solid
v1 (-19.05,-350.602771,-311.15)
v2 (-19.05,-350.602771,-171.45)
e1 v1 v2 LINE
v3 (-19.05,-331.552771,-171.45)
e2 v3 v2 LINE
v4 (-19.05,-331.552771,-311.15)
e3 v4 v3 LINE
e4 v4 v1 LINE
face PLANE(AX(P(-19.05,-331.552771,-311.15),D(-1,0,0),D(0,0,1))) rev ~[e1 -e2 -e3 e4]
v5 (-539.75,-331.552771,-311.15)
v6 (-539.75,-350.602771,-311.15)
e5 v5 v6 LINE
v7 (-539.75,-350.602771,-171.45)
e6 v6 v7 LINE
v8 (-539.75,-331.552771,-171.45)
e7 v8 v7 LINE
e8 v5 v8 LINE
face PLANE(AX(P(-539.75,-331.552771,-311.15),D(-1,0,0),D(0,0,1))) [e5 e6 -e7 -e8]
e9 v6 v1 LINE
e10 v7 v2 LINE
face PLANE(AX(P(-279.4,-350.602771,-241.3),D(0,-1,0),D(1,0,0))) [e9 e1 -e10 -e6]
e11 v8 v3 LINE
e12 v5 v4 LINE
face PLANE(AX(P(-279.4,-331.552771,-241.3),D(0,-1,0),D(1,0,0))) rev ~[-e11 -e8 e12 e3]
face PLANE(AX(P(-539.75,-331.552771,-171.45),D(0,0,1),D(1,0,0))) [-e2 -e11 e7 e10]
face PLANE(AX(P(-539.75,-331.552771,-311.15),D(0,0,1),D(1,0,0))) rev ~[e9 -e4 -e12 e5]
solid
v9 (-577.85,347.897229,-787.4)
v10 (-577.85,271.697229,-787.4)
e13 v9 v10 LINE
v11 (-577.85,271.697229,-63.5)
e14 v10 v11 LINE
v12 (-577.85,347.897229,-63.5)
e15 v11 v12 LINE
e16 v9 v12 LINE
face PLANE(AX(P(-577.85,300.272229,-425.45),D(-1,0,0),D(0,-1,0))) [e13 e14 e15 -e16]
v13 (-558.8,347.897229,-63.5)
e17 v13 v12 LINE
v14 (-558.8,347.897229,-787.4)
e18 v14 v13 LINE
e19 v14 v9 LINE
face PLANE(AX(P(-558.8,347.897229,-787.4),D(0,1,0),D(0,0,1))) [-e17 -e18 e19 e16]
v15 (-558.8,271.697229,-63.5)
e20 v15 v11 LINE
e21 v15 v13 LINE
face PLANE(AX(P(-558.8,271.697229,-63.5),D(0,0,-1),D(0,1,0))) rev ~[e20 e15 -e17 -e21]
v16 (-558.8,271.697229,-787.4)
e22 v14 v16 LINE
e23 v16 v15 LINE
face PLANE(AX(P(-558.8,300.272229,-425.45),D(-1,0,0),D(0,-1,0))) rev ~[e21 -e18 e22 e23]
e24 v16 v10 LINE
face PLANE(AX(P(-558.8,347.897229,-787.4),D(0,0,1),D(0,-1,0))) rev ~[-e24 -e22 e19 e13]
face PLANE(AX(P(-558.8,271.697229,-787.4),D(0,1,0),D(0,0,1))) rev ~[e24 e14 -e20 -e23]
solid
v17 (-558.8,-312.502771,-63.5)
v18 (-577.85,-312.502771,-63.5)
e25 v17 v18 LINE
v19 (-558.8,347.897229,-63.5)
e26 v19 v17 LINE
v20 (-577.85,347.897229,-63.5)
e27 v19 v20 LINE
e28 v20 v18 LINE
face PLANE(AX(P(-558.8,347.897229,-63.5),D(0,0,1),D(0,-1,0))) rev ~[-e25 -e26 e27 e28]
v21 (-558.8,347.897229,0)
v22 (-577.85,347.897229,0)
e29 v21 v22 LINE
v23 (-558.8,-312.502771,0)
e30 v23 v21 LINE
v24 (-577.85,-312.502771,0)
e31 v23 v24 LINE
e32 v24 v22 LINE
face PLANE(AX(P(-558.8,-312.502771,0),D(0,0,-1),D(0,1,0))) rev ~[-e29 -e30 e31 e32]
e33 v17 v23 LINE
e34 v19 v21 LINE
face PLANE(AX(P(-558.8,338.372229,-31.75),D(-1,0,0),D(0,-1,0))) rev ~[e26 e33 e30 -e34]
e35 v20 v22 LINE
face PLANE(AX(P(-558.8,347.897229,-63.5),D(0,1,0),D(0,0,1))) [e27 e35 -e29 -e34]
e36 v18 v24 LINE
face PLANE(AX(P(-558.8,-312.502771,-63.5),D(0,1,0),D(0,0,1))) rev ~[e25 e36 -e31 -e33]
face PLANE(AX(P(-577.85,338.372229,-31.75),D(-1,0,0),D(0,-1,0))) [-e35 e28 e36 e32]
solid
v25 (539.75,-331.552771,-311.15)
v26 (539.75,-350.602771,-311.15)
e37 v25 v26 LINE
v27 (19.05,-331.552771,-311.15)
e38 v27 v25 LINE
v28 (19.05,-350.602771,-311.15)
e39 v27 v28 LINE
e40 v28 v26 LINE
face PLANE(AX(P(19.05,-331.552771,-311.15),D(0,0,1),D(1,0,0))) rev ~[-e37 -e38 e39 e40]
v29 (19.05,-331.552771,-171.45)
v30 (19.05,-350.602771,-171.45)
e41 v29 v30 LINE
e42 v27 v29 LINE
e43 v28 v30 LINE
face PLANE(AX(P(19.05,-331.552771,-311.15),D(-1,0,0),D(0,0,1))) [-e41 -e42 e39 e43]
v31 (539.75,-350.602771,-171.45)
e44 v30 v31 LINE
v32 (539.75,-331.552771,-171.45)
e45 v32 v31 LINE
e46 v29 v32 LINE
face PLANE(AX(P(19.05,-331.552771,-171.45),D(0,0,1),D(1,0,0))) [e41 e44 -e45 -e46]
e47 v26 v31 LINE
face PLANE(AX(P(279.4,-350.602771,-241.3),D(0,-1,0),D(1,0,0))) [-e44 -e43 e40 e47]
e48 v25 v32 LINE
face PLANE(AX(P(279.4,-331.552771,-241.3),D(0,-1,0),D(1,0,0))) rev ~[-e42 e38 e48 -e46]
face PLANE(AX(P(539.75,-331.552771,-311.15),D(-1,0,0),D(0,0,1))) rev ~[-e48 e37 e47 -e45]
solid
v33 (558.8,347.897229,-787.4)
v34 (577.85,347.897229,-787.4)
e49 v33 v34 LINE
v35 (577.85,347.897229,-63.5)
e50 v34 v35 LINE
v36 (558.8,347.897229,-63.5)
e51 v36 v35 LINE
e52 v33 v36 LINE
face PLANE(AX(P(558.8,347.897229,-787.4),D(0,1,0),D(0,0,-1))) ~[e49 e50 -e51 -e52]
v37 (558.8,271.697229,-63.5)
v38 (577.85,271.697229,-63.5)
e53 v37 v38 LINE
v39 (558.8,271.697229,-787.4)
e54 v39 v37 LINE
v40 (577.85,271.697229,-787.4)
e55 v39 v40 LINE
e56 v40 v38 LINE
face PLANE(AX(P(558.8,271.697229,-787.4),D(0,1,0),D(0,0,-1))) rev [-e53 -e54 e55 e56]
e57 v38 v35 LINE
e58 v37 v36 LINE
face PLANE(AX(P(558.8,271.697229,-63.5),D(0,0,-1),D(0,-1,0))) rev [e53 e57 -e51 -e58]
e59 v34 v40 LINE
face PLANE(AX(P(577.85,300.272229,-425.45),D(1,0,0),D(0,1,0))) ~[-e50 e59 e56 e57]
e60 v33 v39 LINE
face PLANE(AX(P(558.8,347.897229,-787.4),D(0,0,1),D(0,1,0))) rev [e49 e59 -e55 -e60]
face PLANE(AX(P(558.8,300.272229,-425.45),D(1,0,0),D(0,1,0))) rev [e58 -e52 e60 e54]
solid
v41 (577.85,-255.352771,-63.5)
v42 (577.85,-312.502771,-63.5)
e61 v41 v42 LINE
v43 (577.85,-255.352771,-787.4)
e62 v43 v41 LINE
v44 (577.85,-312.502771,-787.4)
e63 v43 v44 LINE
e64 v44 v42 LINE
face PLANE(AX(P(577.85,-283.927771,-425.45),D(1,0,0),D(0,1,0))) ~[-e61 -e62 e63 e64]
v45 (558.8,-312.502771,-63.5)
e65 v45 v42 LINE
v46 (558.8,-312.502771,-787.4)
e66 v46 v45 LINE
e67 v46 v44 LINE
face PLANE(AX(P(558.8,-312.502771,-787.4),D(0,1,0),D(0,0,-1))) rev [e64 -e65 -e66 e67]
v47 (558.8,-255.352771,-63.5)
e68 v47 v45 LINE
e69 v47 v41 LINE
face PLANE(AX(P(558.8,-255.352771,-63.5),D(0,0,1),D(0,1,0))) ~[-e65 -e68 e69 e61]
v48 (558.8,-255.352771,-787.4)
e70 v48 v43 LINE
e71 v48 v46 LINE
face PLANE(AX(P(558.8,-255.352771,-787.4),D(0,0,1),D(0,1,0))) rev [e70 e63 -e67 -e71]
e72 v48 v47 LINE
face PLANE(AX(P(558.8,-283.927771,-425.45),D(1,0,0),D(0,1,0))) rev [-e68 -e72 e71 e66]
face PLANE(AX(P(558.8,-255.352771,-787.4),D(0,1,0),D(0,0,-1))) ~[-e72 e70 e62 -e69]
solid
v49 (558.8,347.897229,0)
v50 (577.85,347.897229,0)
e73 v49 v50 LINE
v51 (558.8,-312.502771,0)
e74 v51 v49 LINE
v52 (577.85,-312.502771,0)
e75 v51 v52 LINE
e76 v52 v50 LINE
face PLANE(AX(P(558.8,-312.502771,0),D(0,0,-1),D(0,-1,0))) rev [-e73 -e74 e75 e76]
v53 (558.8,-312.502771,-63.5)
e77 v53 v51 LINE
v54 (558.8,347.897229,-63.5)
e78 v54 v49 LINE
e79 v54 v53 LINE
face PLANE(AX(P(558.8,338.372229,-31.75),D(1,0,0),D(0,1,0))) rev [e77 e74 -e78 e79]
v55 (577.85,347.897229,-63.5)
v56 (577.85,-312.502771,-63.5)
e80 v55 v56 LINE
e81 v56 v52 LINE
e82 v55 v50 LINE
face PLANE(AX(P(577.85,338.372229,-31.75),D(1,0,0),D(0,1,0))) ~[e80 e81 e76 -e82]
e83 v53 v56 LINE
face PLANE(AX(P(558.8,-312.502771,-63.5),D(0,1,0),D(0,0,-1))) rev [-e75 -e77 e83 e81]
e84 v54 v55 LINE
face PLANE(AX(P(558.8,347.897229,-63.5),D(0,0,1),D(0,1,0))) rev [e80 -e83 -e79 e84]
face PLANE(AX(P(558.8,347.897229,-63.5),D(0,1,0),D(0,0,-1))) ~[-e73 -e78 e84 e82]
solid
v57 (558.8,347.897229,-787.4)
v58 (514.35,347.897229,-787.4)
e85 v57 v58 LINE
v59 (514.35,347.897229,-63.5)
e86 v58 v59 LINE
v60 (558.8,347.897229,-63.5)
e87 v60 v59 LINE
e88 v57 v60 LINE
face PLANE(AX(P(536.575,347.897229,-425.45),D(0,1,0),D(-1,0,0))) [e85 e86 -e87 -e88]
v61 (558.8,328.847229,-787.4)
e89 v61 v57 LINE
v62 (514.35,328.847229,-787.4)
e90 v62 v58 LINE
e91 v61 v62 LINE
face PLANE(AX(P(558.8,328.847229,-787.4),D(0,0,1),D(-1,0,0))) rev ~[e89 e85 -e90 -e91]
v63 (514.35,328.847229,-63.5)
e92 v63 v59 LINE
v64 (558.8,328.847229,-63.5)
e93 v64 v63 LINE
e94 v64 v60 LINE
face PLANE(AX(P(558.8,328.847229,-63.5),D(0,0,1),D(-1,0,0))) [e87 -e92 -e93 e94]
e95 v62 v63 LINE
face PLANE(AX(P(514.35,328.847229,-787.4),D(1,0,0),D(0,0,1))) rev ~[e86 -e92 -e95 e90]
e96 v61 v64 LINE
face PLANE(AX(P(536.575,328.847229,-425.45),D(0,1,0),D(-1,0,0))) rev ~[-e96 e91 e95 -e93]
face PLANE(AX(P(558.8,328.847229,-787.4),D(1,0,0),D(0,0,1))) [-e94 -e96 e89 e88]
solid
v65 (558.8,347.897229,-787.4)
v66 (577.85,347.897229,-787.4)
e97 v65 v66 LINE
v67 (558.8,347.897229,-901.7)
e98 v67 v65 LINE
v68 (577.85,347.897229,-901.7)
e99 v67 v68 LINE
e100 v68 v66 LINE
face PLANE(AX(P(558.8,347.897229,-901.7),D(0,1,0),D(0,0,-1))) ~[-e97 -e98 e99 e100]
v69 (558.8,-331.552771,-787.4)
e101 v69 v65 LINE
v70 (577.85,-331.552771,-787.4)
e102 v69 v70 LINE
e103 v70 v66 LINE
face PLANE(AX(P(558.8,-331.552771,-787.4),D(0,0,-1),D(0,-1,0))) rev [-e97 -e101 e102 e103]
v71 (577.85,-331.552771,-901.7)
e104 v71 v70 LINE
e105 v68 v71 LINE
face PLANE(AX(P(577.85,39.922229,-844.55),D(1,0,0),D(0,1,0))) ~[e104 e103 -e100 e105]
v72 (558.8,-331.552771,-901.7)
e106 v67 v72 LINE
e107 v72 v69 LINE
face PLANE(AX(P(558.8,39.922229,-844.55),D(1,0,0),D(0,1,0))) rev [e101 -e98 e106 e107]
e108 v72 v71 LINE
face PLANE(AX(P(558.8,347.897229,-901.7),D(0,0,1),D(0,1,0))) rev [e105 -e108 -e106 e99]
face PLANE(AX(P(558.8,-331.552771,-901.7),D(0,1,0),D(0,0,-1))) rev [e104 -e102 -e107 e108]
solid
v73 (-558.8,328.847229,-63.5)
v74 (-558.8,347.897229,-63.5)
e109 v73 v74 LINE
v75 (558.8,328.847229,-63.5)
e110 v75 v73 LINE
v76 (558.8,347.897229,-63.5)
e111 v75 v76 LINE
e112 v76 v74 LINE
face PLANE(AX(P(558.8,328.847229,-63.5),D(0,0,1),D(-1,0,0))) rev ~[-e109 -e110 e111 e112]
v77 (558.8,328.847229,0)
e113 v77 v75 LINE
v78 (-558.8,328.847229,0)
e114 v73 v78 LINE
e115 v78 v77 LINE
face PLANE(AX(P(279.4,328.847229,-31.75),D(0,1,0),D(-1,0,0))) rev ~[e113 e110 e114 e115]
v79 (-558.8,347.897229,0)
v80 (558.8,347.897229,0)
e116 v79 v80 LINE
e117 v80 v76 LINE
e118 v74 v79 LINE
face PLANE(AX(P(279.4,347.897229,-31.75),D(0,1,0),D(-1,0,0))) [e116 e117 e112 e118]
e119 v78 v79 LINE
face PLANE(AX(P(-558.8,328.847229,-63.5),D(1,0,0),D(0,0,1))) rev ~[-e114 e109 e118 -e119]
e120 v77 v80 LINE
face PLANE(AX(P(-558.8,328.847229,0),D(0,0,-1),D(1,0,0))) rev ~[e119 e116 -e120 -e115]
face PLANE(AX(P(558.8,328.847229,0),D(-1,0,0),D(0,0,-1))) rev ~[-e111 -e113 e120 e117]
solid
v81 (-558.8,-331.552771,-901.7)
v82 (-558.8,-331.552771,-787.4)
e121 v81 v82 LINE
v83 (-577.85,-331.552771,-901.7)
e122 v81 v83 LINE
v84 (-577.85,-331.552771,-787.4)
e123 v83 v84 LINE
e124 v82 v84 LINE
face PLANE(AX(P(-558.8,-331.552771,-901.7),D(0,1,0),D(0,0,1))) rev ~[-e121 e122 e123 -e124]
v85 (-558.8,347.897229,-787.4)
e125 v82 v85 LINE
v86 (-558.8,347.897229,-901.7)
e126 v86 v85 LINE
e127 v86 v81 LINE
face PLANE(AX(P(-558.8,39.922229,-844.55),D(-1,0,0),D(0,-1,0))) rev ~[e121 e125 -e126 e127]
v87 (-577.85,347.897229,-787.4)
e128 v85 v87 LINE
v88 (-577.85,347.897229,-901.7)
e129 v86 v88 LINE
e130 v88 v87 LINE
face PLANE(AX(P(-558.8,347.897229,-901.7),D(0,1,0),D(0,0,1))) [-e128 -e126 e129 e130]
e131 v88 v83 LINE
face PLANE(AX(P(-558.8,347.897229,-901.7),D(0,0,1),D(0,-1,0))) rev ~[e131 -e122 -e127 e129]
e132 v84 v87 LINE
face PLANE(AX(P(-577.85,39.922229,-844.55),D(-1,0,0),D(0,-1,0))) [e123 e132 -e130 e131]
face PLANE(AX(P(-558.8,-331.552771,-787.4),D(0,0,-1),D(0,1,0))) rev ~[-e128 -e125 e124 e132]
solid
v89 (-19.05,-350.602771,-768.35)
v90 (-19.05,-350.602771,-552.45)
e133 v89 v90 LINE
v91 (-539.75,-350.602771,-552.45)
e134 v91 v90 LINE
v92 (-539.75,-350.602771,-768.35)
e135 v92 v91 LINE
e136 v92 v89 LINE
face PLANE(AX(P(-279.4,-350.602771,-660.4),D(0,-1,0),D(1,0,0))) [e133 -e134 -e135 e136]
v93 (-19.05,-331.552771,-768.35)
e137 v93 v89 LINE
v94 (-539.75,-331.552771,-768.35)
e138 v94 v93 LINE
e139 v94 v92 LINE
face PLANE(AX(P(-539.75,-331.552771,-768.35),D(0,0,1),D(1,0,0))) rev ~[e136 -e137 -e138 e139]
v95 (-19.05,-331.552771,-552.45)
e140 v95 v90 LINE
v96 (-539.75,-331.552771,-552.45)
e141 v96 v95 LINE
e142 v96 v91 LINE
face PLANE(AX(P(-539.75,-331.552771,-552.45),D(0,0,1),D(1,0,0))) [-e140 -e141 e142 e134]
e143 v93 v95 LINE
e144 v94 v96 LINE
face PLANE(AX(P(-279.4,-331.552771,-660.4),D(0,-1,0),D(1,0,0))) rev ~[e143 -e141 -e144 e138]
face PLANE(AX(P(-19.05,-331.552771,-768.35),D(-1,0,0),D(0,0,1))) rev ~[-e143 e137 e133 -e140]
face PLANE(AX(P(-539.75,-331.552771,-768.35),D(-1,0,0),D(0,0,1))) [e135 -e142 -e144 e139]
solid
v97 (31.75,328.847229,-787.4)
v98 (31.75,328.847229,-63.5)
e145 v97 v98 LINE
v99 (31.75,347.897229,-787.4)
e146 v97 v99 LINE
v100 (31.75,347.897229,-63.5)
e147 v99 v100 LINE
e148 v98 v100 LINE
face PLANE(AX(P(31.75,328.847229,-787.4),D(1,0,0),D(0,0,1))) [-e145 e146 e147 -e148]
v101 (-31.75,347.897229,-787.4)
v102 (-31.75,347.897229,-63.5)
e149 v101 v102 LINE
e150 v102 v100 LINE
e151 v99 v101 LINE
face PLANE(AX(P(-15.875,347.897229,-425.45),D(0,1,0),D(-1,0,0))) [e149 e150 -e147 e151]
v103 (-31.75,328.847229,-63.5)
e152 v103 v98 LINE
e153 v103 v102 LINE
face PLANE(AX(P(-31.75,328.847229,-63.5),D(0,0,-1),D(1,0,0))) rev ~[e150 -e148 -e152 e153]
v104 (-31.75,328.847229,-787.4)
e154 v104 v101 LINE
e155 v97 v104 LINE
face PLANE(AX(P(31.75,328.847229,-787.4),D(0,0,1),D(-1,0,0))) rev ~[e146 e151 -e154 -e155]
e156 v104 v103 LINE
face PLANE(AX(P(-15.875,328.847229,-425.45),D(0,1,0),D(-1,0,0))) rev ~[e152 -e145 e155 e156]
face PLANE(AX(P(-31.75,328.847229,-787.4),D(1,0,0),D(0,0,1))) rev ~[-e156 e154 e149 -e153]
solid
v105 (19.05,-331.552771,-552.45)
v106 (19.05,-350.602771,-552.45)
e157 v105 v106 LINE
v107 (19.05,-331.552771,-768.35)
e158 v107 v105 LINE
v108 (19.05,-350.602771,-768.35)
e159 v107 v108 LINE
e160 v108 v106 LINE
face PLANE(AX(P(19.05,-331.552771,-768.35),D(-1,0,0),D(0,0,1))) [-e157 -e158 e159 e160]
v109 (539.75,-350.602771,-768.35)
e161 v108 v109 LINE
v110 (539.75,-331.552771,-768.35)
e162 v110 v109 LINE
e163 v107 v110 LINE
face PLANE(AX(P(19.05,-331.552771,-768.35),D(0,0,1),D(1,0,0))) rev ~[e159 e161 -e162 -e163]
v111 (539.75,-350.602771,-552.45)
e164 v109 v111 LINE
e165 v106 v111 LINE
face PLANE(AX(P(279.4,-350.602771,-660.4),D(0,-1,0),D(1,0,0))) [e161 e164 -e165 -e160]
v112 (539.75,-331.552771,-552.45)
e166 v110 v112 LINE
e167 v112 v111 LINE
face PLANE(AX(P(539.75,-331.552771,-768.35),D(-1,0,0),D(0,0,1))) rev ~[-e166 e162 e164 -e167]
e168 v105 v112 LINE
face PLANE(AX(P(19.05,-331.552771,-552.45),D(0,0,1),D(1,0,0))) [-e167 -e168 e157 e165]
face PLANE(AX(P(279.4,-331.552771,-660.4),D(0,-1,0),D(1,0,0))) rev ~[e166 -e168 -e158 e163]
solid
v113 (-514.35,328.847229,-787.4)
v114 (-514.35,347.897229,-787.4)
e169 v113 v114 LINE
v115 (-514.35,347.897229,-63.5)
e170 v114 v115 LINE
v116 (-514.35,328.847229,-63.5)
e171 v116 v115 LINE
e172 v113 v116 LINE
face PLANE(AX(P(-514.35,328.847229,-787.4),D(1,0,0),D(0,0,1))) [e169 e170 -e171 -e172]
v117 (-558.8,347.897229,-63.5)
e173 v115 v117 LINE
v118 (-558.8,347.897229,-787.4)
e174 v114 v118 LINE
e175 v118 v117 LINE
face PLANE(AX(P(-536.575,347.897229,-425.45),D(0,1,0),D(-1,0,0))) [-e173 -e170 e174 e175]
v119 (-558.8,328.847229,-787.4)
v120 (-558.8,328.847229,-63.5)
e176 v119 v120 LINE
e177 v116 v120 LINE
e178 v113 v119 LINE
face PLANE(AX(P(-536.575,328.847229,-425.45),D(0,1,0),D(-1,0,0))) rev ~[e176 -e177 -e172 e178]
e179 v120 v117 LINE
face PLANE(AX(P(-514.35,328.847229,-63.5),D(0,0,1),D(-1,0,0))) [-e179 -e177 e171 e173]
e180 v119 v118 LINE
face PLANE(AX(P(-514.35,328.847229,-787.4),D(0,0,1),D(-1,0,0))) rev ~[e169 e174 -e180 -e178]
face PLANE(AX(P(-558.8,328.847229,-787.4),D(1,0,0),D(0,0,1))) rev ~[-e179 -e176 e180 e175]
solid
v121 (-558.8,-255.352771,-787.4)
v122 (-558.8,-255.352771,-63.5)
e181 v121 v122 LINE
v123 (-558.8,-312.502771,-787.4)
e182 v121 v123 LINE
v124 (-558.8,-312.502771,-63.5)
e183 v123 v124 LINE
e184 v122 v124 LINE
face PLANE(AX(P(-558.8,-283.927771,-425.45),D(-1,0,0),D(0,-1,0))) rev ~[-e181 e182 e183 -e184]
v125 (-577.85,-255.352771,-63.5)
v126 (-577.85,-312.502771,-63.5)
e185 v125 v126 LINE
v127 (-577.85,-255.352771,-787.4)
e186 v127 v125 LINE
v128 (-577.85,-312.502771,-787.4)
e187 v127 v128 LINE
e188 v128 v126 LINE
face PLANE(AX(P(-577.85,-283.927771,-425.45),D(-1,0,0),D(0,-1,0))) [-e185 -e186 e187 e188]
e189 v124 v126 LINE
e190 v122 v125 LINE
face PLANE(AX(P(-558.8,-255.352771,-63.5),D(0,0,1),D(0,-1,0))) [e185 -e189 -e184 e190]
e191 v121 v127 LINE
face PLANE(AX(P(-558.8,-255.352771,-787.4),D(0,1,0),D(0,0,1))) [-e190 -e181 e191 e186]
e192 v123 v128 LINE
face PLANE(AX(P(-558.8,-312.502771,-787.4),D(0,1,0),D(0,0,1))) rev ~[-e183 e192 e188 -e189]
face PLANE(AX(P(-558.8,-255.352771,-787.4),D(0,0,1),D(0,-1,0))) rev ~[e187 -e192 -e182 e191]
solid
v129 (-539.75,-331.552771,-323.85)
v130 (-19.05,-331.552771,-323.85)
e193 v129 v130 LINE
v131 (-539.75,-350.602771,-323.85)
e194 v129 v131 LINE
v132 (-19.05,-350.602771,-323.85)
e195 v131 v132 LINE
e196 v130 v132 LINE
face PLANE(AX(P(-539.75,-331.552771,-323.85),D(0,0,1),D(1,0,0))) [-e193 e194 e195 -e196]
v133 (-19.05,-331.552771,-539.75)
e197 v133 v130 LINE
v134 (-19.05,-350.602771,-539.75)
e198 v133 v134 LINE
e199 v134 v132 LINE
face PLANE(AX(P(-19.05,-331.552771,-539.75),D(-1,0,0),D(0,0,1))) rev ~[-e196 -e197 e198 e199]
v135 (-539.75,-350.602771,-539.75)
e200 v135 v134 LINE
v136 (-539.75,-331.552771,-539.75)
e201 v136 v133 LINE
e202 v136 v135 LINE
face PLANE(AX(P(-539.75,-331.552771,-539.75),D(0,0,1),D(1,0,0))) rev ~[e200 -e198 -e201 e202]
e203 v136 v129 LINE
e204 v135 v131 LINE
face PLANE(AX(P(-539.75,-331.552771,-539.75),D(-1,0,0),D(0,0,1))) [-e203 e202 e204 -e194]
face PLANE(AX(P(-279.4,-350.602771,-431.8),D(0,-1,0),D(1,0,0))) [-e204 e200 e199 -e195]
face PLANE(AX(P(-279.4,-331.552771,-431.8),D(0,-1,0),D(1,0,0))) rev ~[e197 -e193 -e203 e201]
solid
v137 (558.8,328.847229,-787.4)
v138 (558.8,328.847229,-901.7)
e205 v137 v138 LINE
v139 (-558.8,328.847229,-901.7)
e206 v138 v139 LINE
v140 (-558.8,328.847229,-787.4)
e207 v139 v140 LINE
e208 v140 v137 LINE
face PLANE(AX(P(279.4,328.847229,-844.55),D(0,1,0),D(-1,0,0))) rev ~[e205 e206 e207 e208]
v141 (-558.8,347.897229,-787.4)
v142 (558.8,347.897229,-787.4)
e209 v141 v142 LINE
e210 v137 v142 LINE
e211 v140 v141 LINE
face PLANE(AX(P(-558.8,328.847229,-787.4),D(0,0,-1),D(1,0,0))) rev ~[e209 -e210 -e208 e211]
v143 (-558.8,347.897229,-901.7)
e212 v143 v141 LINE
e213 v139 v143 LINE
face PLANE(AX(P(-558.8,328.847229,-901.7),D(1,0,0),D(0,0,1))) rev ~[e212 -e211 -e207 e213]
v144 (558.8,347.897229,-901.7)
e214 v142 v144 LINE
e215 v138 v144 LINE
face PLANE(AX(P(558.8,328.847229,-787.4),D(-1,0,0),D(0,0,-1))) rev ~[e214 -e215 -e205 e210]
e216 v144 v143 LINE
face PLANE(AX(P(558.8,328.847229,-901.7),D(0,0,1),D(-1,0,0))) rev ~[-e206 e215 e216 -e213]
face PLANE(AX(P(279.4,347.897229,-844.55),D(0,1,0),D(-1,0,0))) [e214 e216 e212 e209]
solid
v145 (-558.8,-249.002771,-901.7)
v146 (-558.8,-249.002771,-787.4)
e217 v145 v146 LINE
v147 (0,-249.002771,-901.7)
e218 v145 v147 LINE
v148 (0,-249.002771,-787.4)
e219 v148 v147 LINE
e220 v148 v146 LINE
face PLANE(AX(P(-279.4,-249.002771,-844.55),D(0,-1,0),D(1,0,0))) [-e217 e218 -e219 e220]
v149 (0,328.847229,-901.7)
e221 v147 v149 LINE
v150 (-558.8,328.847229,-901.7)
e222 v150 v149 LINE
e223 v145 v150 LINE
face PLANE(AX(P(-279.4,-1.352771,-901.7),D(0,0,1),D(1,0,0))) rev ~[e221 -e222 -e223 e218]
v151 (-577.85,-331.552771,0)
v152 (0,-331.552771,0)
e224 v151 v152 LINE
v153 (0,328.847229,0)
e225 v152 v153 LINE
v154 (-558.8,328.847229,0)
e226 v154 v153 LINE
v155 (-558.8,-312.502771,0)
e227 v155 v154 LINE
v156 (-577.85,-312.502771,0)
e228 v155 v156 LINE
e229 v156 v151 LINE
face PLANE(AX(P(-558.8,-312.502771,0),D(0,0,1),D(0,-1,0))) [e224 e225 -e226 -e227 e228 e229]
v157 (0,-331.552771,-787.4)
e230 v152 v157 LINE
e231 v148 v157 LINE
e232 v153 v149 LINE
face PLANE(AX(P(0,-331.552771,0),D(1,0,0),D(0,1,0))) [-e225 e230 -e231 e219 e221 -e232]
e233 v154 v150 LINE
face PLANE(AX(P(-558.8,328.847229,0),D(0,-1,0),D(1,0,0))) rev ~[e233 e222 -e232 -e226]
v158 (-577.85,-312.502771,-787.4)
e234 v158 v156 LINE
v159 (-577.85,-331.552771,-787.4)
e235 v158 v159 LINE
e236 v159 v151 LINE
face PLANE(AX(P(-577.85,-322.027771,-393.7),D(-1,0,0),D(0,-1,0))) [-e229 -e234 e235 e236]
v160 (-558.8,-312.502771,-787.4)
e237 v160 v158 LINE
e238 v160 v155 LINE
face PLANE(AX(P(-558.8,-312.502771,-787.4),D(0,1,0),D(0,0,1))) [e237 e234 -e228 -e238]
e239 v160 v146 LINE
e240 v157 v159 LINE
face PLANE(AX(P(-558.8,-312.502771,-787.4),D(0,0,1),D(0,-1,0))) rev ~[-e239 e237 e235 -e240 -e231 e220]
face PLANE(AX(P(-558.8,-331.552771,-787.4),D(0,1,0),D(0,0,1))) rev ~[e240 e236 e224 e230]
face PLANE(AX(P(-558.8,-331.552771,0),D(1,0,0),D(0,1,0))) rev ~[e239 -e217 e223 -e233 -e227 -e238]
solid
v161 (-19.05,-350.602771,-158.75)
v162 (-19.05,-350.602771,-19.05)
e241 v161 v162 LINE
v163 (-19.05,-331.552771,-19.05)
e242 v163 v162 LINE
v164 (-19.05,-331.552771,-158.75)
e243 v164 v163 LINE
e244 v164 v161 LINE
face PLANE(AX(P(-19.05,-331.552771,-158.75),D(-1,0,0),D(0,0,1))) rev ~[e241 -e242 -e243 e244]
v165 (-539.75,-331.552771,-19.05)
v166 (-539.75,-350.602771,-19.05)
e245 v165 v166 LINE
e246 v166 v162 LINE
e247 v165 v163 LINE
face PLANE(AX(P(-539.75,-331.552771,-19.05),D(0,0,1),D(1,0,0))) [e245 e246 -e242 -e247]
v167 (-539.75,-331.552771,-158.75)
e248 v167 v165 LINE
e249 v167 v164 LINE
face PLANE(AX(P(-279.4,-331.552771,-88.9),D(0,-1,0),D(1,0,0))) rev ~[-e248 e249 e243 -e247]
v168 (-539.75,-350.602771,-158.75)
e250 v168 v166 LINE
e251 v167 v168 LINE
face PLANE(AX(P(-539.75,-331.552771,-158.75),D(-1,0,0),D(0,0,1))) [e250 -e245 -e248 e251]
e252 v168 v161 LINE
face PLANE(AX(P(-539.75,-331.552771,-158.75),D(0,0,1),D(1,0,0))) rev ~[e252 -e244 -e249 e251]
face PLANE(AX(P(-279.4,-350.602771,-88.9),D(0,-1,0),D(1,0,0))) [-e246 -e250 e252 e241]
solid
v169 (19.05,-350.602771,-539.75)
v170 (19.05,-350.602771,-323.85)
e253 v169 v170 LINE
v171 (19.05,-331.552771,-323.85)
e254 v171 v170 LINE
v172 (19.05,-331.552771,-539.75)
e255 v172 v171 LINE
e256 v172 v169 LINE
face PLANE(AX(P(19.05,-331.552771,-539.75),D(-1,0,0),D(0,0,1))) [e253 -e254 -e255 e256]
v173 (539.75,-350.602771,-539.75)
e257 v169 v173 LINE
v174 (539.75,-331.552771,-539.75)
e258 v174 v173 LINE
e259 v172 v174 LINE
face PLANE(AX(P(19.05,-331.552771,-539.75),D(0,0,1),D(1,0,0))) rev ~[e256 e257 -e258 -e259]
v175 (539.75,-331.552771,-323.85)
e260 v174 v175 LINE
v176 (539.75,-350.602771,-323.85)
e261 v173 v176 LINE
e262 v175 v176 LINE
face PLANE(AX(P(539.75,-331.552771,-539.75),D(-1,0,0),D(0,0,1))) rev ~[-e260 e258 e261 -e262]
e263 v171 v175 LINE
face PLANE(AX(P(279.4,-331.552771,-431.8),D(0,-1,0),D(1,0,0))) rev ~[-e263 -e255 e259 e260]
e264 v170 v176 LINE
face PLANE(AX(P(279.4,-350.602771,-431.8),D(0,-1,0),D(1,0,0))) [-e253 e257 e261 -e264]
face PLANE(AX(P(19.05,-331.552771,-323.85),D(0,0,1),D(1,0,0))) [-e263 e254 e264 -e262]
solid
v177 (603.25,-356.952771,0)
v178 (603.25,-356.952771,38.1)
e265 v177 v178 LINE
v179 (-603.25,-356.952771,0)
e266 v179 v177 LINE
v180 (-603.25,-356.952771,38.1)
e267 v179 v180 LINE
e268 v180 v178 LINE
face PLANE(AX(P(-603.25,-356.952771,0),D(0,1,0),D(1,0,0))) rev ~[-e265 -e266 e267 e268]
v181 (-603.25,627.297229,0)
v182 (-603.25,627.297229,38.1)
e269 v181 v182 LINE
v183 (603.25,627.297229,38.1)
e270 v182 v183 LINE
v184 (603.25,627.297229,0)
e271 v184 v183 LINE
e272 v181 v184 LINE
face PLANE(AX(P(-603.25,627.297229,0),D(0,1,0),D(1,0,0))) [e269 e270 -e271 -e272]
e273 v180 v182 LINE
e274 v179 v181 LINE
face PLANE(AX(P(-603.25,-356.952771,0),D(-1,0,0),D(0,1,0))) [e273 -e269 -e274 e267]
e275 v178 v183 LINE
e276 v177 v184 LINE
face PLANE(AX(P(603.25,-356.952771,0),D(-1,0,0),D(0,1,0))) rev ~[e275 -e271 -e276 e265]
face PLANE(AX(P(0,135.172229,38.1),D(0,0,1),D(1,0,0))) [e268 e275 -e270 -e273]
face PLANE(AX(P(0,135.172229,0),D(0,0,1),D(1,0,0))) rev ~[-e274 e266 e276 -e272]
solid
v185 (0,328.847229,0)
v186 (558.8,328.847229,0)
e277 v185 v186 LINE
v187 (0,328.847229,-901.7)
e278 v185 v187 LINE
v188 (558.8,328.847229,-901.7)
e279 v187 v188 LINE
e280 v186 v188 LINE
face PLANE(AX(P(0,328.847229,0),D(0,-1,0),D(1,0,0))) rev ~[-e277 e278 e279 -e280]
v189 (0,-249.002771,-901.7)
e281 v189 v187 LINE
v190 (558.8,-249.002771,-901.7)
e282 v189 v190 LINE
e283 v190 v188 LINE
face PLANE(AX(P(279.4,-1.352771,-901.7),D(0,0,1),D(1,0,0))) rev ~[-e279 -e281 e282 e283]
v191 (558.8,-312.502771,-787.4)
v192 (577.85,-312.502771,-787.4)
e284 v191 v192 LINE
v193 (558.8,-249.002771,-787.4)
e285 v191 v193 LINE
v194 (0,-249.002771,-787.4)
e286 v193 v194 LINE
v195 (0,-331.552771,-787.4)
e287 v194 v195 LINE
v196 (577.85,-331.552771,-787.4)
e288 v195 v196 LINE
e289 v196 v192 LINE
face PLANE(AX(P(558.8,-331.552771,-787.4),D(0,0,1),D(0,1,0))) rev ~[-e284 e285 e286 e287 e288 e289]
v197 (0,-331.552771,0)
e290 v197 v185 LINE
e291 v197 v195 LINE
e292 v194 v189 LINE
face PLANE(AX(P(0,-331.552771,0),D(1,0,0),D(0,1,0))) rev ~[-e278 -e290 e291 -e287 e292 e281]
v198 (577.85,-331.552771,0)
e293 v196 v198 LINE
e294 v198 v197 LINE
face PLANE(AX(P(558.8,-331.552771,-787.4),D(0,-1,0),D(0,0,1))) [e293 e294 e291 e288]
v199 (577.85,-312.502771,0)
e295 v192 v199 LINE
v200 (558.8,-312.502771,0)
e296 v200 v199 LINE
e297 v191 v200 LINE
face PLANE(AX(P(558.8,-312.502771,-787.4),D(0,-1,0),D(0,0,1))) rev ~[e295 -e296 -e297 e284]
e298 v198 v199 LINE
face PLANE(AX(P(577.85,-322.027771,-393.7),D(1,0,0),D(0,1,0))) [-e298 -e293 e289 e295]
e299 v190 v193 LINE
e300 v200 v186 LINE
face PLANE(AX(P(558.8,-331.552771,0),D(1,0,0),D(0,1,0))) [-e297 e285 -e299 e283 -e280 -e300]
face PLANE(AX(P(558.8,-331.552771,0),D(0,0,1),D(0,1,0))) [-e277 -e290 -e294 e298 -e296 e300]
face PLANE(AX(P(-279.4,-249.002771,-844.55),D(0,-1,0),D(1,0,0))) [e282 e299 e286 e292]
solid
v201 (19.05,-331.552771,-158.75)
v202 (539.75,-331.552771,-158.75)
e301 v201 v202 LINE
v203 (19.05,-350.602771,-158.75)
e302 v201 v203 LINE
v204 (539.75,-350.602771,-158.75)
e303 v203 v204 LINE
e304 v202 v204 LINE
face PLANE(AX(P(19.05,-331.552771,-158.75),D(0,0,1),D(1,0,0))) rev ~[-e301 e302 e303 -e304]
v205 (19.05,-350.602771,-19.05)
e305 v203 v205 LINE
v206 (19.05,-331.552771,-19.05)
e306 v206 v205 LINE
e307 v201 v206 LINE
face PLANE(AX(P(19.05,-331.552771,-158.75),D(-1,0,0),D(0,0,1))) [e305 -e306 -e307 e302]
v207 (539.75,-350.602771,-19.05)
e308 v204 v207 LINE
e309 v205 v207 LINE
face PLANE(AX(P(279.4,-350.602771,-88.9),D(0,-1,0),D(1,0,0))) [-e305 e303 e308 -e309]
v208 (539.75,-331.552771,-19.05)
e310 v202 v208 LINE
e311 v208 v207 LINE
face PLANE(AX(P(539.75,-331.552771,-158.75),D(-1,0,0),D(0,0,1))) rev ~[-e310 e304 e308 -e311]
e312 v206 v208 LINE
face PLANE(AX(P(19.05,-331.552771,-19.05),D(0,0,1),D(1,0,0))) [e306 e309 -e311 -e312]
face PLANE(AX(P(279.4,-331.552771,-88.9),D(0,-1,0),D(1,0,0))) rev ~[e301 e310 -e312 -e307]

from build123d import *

# Parameters (mm, degrees)
F0_W      = 558.8
F0_H      = 660.4
F1_DEPTH  = 901.7
F2_DEPTH  = 901.7
F3_W      = 558.8
F3_H      = 114.3
F4_DEPTH  = 82.55
F5_W      = 19.05
F5_H      = 787.4
F6_DEPTH  = 19.05
F7_W      = 19.05
F7_H      = 787.4
F8_DEPTH  = 19.05
F9_W      = 19.05
F9_H      = 63.5
F9_H_2    = 114.3
F10_DEPTH = 19.05
F9_W_2    = 57.15
F9_H_3    = 723.9
F11_DEPTH = 19.05
F14_DEPTH = 19.05
F13_W     = 44.45
F13_H     = 723.9
F13_W_2   = 31.75
F15_DEPTH = 19.05
F16_W     = 1206.5
F16_H     = 984.25
F16_W_2   = 558.8
F16_H_2   = 660.4
F17_DEPTH = 38.1
F18_W     = 520.7
F18_H     = 139.7
F18_H_2   = 215.9
F19_DEPTH = 19.05


with BuildPart() as f1:
    # F0 (on Top) → F1 (new body)
    with BuildSketch(Plane.XY):
        with Locations((-279.4, -1.352771)):
            Rectangle(F0_W, F0_H)
    extrude(amount=-F1_DEPTH)


with BuildPart() as f2:
    # F0 (on Top) → F2 (new body)
    with BuildSketch(Plane.XY):
        with Locations((279.4, -1.352771)):
            Rectangle(F0_W, F0_H)
    extrude(amount=-F2_DEPTH)


with BuildPart() as f4_tool:
    # F3 (on face) → F4 (new body)
    with BuildSketch(Plane.XZ.offset(331.552771)):
        with Locations((-279.4, -844.55)):
            Rectangle(F3_W, F3_H)
        with Locations((279.4, -844.55)):
            Rectangle(F3_W, F3_H)
    extrude(amount=-F4_DEPTH)


with BuildPart() as f1_1:
    add(f1.part)

    # F4: cut by f4_tool
    add(f4_tool.part, mode=Mode.SUBTRACT)

    # F5 (on face) → F6 (join)
    with BuildSketch(Plane(origin=(-558.8, 0, 0), x_dir=(0, -1, 0), z_dir=(-1, 0, 0))):
        with Locations((322.027771, -393.7)):
            Rectangle(F5_W, F5_H)
    extrude(amount=F6_DEPTH)


with BuildPart() as f2_1:
    add(f2.part)

    # F4: cut by f4_tool
    add(f4_tool.part, mode=Mode.SUBTRACT)

    # F7 (on face) → F8 (join)
    with BuildSketch(Plane.YZ.offset(558.8)):
        with Locations((-322.027771, -393.7)):
            Rectangle(F7_W, F7_H)
    extrude(amount=F8_DEPTH)


with BuildPart() as f10:
    # F9 (on face) → F10 (new body)
    with BuildSketch(Plane(origin=(-558.8, 0, 0), x_dir=(0, -1, 0), z_dir=(-1, 0, 0))):
        Polygon((-328.847229, -901.7), (249.002771, -901.7), (249.002771, -787.4), (-271.697229, -787.4), (-328.847229, -787.4), align=None)
        with Locations((-338.372229, -31.75)):
            Rectangle(F9_W, F9_H)
        Polygon((255.352771, -63.5), (312.502771, -63.5), (312.502771, 0), (-328.847229, 0), (-328.847229, -63.5), (-271.697229, -63.5), align=None)
        with Locations((-338.372229, -844.55)):
            Rectangle(F9_W, F9_H_2)
        Polygon((249.002771, -901.7), (331.552771, -901.7), (331.552771, -787.4), (312.502771, -787.4), (255.352771, -787.4), (249.002771, -787.4), align=None)
    extrude(amount=F10_DEPTH)


with BuildPart() as f11:
    # F9 (on face) → F11 (new body)
    with BuildSketch(Plane(origin=(-558.8, 0, 0), x_dir=(0, -1, 0), z_dir=(-1, 0, 0))):
        with Locations((-300.272229, -425.45)):
            Rectangle(F9_W_2, F9_H_3)
        with Locations((-338.372229, -425.45)):
            Rectangle(F9_W, F9_H_3)
        with Locations((283.927771, -425.45)):
            Rectangle(F9_W_2, F9_H_3)
    extrude(amount=F11_DEPTH)


with BuildPart() as f12_1:
    # F12: instance of F10
    add(f10.part.mirror(Plane.YZ))


with BuildPart() as f12_2:
    # F12: instance of F11
    add(f11.part.mirror(Plane.YZ))


with BuildPart() as f14:
    # F13 (on face) → F14 (new body)
    with BuildSketch(Plane(origin=(0, 328.847229, 0), x_dir=(-1, 0, 0), z_dir=(0, 1, 0))):
        Polygon((0, 0), (-558.8, 0), (-558.8, -63.5), (-514.35, -63.5), (-31.75, -63.5), (0, -63.5), align=None)
        Polygon((558.8, 0), (0, 0), (0, -63.5), (31.75, -63.5), (514.35, -63.5), (558.8, -63.5), align=None)
        Polygon((-514.35, -787.4), (-558.8, -787.4), (-558.8, -901.7), (0, -901.7), (0, -787.4), (-31.75, -787.4), align=None)
        Polygon((31.75, -787.4), (0, -787.4), (0, -901.7), (558.8, -901.7), (558.8, -787.4), (514.35, -787.4), align=None)
    extrude(amount=F14_DEPTH)


with BuildPart() as f15:
    # F13 (on face) → F15 (new body)
    with BuildSketch(Plane(origin=(0, 328.847229, 0), x_dir=(-1, 0, 0), z_dir=(0, 1, 0))):
        with Locations((-536.575, -425.45)):
            Rectangle(F13_W, F13_H)
        with Locations((15.875, -425.45)):
            Rectangle(F13_W_2, F13_H)
        with Locations((-15.875, -425.45)):
            Rectangle(F13_W_2, F13_H)
        with Locations((536.575, -425.45)):
            Rectangle(F13_W, F13_H)
    extrude(amount=F15_DEPTH)


with BuildPart() as f17:
    # F16 (on face) → F17 (new body)
    with BuildSketch(Plane.XY):
        with Locations((0, 135.172229)):
            Rectangle(F16_W, F16_H)
        with Locations((-279.4, -1.352771)):
            Rectangle(F16_W_2, F16_H_2, mode=Mode.SUBTRACT)
        with Locations((-279.4, -1.352771)):
            Rectangle(F16_W_2, F16_H_2)
    extrude(amount=F17_DEPTH)


with BuildPart() as f19:
    # F18 (on face) → F19 (new body)
    with BuildSketch(Plane.XZ.offset(331.552771)):
        with Locations((-279.4, -88.9)):
            Rectangle(F18_W, F18_H)
        with Locations((279.4, -88.9)):
            Rectangle(F18_W, F18_H)
        with Locations((279.4, -241.3)):
            Rectangle(F18_W, F18_H)
        with Locations((-279.4, -241.3)):
            Rectangle(F18_W, F18_H)
        with Locations((-279.4, -431.8)):
            Rectangle(F18_W, F18_H_2)
        with Locations((279.4, -431.8)):
            Rectangle(F18_W, F18_H_2)
        with Locations((279.4, -660.4)):
            Rectangle(F18_W, F18_H_2)
        with Locations((-279.4, -660.4)):
            Rectangle(F18_W, F18_H_2)
    extrude(amount=F19_DEPTH)


solid = Compound([f1_1.part, f2_1.part, f10.part, f11.part, f12_1.part, f12_2.part, f14.part, f15.part, f17.part, f19.part])
